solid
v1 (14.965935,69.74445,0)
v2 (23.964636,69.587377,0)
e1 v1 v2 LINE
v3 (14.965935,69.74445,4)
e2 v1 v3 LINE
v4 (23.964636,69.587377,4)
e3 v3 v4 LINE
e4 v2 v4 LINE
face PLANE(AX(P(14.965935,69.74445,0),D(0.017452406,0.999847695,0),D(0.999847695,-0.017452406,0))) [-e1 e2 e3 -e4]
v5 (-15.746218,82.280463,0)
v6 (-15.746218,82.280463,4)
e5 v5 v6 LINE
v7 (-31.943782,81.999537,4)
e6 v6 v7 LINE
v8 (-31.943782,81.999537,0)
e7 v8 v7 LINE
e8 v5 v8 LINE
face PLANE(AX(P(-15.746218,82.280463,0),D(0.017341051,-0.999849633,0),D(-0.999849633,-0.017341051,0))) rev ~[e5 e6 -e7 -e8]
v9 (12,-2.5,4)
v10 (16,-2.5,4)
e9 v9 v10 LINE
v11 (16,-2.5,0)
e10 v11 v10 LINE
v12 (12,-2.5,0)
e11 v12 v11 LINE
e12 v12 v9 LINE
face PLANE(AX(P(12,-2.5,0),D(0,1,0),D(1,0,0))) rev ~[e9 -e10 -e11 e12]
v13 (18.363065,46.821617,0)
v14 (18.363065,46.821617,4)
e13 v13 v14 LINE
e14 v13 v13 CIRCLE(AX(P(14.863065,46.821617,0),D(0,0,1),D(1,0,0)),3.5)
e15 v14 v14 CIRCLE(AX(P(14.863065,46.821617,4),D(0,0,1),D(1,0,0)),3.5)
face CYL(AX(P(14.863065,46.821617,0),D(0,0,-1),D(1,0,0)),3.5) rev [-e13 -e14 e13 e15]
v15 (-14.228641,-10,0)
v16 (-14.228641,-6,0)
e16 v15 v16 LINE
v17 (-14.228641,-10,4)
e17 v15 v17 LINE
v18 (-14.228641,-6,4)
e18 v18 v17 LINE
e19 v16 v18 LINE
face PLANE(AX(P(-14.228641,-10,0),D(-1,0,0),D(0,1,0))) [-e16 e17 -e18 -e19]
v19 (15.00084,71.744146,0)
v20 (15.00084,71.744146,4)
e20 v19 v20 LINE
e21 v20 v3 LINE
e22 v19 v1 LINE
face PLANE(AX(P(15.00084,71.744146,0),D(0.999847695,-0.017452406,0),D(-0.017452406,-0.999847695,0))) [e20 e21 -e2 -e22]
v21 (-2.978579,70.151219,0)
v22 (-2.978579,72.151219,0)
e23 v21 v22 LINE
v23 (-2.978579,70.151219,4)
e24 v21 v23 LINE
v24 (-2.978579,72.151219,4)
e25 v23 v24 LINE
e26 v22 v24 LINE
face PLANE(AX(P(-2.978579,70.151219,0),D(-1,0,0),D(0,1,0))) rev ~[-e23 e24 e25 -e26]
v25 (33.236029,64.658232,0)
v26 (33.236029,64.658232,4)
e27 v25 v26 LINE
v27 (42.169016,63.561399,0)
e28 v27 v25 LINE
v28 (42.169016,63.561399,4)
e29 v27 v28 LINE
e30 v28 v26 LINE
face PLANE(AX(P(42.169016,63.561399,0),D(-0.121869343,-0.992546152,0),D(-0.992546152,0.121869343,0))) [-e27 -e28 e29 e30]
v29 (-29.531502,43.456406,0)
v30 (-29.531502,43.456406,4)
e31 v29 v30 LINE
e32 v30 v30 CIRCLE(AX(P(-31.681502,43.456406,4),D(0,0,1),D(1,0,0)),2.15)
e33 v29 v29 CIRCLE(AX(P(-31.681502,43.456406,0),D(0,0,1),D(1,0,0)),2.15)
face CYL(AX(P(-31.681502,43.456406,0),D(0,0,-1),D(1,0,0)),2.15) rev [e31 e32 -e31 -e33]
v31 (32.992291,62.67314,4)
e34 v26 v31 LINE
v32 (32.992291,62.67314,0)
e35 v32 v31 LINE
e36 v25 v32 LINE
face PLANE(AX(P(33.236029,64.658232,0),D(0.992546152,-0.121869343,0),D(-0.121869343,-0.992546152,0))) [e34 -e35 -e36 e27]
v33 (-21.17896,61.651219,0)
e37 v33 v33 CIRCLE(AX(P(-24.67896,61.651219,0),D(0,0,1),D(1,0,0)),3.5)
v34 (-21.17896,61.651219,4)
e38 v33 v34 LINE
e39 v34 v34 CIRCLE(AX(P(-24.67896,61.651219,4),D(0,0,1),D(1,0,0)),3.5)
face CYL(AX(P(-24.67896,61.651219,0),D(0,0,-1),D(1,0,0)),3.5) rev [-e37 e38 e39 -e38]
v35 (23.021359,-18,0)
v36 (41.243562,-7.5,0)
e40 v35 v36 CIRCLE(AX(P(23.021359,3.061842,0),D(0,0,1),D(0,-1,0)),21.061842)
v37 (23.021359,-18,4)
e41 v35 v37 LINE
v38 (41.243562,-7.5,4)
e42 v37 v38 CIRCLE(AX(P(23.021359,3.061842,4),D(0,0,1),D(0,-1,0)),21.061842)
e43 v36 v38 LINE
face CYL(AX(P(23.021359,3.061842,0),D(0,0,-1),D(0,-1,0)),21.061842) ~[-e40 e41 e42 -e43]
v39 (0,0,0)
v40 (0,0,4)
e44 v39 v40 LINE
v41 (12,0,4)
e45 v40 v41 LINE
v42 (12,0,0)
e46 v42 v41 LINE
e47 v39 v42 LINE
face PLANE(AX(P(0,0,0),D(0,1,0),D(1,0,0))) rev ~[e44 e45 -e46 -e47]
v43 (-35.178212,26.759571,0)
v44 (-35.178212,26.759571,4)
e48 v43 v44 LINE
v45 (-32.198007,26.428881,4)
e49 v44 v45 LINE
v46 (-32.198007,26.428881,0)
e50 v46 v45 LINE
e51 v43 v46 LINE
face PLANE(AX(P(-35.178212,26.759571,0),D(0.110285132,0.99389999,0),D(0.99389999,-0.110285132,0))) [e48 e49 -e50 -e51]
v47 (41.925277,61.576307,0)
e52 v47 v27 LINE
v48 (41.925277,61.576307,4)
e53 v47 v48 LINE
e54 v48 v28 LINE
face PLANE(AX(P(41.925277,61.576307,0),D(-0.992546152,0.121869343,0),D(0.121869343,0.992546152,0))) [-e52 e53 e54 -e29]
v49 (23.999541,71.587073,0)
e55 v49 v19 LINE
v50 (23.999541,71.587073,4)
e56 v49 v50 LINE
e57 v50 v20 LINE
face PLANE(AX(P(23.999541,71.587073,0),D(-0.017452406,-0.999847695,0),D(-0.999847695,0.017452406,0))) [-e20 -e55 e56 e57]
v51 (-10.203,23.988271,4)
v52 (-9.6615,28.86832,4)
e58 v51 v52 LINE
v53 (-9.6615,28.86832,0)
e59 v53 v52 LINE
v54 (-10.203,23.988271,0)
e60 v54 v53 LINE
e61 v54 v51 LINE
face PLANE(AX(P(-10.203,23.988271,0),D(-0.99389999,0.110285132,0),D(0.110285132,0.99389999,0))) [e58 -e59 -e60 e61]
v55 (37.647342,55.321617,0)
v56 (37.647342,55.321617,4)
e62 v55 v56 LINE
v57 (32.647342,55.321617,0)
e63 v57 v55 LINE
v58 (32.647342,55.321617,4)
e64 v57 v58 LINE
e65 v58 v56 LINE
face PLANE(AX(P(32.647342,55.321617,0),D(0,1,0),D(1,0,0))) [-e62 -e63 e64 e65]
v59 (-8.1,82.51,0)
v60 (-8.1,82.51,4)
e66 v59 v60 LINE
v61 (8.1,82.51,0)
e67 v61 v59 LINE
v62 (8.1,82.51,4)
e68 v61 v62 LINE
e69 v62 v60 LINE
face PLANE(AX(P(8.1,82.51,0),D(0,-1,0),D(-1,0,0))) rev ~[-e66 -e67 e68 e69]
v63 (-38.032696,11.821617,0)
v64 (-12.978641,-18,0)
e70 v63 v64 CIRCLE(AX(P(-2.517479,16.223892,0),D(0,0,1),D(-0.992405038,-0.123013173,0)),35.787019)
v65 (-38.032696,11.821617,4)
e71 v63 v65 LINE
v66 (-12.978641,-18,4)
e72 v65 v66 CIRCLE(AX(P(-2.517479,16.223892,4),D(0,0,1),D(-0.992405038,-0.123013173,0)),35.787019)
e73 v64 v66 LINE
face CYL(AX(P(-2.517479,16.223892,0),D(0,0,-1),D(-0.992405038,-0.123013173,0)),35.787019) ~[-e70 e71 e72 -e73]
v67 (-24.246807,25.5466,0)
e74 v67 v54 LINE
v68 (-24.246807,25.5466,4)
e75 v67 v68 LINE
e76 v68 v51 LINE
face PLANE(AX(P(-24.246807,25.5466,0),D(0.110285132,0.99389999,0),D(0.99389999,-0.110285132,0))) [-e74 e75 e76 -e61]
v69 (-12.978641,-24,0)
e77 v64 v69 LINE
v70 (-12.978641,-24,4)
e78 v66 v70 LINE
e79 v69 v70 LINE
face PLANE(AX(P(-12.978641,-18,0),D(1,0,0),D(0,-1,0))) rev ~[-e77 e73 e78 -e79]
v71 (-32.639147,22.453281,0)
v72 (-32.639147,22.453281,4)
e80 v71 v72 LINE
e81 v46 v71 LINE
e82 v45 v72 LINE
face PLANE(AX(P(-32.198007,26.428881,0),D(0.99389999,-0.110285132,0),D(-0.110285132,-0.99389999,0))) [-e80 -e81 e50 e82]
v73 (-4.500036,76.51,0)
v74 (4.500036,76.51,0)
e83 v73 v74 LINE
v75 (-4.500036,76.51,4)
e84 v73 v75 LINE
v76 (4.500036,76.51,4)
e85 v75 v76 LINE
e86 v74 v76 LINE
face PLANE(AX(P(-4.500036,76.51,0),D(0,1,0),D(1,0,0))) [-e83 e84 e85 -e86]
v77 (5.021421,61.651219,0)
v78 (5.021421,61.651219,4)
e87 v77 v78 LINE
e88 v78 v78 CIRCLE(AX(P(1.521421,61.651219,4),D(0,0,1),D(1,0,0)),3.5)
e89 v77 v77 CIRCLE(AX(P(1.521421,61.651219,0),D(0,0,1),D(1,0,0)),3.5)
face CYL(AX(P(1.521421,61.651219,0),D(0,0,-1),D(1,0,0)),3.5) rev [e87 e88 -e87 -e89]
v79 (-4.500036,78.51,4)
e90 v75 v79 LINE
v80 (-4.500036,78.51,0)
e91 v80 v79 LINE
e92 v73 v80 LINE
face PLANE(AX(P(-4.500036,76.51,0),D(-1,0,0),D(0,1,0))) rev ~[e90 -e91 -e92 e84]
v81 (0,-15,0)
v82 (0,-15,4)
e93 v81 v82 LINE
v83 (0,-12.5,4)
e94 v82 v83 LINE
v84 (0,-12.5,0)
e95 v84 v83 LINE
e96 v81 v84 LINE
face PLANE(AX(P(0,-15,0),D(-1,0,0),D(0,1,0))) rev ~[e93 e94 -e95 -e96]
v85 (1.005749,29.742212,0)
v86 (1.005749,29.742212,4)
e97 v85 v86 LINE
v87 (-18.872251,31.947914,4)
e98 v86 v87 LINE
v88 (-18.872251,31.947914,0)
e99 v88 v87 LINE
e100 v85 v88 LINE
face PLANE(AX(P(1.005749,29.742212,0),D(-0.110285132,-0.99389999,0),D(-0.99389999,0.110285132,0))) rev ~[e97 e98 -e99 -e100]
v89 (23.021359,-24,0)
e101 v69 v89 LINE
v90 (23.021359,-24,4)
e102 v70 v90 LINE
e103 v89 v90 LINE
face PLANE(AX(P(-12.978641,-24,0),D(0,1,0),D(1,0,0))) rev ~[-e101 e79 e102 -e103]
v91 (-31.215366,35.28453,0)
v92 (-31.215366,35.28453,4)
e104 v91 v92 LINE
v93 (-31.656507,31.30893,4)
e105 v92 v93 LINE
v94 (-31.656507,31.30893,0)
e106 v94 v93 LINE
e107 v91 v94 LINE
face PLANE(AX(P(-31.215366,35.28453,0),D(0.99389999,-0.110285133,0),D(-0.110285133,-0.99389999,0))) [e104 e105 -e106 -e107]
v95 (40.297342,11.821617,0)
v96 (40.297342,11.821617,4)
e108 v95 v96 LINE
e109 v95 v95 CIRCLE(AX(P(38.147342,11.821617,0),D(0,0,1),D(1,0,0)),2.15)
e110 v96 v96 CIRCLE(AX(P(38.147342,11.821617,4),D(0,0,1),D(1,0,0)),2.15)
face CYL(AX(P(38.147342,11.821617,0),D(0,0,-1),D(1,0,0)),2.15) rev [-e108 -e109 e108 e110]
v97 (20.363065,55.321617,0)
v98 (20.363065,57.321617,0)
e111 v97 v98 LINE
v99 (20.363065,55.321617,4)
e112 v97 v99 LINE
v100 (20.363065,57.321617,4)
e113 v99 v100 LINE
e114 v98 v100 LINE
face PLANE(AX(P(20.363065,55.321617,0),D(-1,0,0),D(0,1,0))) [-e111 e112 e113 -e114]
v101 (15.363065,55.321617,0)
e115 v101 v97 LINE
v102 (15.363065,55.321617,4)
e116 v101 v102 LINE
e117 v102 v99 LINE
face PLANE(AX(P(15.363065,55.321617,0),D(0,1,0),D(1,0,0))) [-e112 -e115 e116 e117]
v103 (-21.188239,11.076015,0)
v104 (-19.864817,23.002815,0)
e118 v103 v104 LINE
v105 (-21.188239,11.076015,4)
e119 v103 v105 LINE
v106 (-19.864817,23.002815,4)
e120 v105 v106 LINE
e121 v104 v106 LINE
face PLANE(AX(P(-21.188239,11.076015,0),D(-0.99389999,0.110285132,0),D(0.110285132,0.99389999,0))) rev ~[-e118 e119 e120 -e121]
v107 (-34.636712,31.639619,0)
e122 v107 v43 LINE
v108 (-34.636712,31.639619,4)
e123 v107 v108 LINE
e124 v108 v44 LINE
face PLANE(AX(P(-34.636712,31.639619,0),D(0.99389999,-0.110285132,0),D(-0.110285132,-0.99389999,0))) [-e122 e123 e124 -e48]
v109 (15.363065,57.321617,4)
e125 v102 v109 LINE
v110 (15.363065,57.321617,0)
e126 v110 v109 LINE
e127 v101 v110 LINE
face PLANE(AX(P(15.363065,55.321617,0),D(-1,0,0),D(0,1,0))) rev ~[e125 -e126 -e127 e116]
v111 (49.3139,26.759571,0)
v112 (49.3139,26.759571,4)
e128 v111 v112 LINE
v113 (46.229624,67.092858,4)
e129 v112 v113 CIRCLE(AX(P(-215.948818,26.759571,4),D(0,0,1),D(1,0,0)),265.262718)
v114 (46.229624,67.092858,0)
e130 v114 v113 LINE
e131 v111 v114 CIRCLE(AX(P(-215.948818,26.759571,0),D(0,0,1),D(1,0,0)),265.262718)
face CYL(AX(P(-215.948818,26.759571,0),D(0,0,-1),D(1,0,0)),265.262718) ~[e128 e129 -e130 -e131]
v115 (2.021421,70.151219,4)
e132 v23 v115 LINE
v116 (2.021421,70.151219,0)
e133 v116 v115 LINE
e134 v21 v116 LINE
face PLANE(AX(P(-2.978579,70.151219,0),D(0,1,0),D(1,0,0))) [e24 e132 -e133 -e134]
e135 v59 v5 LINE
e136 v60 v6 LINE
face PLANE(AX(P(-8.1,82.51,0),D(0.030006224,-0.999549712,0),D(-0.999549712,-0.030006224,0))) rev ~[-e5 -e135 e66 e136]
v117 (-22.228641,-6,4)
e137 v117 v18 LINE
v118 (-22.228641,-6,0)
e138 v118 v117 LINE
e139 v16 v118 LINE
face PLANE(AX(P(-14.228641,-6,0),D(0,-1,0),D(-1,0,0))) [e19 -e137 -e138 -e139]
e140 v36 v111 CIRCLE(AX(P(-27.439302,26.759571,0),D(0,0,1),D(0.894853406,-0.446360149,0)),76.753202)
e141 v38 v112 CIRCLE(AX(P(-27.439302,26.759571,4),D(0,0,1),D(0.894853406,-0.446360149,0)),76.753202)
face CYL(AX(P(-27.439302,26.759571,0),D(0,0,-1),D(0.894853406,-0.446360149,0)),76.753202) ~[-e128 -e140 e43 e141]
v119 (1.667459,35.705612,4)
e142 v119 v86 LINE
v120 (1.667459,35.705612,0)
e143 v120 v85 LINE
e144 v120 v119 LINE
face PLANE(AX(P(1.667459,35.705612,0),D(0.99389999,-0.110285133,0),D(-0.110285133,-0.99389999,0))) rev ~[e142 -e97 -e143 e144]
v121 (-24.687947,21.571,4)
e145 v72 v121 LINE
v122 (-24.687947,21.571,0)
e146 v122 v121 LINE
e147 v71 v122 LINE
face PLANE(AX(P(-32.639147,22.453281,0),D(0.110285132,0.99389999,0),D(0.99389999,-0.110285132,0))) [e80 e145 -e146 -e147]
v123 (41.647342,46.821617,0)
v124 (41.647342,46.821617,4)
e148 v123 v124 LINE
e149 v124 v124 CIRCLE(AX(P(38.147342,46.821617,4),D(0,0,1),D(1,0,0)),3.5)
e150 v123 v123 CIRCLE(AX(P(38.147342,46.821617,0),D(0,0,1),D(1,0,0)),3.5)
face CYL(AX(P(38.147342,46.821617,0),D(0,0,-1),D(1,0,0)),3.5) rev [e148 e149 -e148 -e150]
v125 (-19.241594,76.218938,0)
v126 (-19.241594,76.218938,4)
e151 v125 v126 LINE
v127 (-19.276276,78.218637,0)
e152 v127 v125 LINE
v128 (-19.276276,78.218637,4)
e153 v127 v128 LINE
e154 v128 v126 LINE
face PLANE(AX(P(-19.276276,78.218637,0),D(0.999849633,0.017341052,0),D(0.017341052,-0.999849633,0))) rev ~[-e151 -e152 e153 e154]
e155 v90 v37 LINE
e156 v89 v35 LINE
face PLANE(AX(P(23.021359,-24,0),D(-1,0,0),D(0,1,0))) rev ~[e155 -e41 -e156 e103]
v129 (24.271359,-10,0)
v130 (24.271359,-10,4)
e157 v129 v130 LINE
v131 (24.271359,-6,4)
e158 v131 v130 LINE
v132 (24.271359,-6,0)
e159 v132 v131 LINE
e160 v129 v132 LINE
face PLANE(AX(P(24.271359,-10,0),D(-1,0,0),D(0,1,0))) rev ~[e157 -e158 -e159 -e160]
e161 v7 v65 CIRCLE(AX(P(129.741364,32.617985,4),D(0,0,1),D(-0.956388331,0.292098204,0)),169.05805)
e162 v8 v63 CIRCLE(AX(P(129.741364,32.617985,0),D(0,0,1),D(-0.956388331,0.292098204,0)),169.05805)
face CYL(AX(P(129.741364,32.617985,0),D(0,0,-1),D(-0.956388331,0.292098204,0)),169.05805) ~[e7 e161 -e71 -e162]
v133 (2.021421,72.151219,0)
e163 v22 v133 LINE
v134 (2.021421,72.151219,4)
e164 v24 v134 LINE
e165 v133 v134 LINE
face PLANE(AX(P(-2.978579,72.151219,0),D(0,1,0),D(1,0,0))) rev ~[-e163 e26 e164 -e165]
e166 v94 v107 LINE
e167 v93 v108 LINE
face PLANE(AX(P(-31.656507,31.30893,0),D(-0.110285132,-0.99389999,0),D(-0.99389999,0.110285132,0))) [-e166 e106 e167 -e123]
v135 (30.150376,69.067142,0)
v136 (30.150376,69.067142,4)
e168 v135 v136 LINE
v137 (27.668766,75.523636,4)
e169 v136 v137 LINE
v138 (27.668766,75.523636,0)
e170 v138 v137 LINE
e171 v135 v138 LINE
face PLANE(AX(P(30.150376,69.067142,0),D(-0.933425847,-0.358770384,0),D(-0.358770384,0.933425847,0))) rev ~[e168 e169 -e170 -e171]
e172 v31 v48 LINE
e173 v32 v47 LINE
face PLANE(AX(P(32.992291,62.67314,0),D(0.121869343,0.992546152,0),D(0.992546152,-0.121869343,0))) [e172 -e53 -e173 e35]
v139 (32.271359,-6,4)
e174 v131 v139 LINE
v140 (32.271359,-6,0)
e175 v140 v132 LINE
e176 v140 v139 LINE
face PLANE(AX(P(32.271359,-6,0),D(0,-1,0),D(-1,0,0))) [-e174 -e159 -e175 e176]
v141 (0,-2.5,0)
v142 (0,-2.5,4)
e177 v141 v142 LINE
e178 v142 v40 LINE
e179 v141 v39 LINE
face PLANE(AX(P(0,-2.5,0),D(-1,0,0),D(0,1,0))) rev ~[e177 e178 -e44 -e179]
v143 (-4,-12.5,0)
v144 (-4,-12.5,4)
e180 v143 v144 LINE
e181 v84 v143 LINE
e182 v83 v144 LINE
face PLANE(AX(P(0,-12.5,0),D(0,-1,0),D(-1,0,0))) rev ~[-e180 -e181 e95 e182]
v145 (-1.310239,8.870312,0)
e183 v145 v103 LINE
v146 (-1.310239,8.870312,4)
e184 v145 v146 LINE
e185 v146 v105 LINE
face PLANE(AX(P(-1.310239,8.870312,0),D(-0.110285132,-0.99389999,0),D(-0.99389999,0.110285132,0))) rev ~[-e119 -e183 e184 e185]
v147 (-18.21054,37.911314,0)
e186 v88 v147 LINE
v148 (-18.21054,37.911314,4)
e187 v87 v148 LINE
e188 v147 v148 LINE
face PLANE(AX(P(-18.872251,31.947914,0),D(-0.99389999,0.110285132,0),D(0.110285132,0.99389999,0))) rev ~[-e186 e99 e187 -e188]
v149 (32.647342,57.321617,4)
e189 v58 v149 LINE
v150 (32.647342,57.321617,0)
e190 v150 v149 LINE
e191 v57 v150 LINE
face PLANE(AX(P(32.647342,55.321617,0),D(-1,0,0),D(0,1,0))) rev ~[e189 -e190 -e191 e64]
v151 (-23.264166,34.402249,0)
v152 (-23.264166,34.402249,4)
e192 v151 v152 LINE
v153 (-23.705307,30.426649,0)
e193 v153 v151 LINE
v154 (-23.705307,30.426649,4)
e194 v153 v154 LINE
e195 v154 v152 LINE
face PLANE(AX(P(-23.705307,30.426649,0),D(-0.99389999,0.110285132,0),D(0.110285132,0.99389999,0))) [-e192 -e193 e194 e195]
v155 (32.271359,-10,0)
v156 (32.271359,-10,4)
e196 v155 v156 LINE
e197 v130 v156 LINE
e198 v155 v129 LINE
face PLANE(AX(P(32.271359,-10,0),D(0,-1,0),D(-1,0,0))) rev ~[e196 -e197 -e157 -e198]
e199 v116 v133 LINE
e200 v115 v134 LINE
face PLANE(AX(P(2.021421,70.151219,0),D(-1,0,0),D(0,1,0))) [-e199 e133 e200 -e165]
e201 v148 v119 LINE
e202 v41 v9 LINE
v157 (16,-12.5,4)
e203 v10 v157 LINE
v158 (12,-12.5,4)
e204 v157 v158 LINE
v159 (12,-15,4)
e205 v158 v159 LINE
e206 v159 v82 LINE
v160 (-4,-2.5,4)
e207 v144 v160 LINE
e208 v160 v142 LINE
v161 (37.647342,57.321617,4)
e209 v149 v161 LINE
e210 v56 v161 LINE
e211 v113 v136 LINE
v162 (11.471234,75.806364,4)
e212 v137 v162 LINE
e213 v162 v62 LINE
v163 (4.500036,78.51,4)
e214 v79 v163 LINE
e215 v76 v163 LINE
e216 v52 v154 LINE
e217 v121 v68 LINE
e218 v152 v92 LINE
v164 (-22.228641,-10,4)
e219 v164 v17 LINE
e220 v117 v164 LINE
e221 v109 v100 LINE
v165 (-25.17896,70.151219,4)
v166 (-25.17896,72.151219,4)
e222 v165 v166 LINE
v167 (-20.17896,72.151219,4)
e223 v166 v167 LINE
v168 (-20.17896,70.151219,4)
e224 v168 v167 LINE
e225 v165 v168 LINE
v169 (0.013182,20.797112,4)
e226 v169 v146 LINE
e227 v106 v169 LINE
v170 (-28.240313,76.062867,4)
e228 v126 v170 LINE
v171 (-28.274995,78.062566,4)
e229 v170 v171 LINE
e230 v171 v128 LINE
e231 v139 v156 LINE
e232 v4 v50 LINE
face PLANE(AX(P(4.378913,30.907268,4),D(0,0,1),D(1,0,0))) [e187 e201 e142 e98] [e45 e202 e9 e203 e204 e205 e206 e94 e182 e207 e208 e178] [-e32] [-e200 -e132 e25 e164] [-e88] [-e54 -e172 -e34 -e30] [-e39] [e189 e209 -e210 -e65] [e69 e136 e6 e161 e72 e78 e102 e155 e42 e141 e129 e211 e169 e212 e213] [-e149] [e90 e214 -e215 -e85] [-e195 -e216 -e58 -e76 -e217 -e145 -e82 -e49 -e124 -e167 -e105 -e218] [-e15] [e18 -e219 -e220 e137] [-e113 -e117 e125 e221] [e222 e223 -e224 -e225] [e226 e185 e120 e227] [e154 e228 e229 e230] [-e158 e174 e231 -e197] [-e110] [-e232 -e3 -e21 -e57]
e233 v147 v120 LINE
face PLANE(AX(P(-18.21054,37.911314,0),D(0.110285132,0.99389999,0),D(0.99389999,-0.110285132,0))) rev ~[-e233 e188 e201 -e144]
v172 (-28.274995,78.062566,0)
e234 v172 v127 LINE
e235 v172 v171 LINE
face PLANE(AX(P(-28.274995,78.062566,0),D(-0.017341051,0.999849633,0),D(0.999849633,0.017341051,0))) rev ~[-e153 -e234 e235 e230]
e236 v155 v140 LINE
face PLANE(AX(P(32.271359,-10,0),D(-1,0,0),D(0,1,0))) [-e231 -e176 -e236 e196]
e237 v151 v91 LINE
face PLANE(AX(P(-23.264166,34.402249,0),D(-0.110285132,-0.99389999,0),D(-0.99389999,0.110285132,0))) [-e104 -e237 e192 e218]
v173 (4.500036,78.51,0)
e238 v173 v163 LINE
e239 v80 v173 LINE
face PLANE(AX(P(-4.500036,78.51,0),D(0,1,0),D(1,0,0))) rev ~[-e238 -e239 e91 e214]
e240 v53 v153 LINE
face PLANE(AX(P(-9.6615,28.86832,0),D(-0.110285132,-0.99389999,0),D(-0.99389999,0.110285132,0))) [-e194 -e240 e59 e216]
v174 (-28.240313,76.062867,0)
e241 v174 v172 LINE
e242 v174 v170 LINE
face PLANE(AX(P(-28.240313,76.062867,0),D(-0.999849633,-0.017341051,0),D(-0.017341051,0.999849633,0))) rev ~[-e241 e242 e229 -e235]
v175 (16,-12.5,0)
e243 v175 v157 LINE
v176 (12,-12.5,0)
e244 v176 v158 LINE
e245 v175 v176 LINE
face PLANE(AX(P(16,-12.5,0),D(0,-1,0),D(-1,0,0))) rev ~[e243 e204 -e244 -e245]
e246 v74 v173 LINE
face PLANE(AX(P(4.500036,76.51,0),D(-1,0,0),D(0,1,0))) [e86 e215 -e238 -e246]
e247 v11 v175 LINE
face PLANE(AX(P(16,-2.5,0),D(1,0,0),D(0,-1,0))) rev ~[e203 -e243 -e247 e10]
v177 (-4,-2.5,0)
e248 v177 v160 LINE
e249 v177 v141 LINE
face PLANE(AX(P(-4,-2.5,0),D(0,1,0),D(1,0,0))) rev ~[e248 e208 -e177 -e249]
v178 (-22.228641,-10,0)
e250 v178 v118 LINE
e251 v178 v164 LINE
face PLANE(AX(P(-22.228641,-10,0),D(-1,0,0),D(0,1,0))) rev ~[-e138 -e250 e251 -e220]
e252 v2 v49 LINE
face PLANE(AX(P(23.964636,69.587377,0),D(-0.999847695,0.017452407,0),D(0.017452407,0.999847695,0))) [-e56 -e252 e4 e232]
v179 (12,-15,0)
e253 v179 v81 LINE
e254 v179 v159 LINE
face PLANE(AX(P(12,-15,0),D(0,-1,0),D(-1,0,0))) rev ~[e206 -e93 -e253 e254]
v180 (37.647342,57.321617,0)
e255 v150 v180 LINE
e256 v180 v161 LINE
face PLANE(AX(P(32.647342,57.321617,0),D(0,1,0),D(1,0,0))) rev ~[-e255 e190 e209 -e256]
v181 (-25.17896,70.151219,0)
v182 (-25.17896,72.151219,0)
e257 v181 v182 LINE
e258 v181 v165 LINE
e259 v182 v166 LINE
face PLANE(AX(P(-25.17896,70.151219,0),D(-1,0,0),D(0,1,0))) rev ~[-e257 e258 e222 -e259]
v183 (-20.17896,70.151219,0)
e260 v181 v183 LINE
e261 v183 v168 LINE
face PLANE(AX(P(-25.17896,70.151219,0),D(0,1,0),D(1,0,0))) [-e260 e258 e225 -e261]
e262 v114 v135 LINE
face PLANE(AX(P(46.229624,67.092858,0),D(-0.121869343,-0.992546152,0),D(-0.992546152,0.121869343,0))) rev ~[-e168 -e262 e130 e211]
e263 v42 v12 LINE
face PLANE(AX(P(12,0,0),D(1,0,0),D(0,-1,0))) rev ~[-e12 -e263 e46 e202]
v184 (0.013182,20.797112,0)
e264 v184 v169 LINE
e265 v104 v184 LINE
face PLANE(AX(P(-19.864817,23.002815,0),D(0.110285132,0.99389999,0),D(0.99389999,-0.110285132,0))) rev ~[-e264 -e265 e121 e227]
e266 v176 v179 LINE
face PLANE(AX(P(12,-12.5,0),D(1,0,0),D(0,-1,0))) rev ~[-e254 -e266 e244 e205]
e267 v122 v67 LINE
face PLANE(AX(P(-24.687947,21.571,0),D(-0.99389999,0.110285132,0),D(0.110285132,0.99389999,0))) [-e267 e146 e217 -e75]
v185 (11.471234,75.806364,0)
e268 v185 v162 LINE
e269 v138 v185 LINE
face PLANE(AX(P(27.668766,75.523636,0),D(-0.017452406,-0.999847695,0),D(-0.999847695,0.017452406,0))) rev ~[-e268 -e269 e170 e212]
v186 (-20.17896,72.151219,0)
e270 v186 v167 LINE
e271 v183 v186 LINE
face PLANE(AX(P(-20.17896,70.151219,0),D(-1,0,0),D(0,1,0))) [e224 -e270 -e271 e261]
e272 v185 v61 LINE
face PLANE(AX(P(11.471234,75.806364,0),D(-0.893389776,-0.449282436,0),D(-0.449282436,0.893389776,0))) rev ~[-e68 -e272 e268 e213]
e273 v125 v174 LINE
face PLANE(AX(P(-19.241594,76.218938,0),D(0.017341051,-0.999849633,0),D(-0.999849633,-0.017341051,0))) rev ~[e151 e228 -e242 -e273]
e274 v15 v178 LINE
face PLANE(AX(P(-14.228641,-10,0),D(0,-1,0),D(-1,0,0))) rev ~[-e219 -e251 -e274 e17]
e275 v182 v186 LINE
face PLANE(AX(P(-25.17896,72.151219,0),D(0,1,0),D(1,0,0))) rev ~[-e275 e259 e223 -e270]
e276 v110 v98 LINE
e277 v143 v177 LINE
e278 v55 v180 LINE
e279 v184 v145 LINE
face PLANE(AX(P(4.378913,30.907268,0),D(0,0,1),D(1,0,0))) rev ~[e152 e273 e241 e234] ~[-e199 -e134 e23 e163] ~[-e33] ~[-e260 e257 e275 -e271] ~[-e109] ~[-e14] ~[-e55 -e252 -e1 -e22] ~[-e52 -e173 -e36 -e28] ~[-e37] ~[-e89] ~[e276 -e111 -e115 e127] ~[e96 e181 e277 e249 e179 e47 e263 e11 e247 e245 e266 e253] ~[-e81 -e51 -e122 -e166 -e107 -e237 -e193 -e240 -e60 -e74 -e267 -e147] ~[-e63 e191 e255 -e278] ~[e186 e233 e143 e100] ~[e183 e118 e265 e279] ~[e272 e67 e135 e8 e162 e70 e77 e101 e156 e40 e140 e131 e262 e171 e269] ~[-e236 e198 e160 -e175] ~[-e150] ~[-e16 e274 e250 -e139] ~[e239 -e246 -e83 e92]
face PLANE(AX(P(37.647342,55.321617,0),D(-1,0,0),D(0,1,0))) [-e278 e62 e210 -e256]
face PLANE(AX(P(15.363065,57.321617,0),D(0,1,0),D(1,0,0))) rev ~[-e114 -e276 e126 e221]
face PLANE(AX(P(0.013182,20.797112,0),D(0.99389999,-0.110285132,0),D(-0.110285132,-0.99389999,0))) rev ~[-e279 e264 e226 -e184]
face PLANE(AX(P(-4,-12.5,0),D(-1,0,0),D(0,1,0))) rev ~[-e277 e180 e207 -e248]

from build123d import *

# Parameters (mm, degrees)
SKETCH1_R           = 2.15
SKETCH1_R_2         = 3.5
SKETCH1_W           = 9.000072
SKETCH1_H           = 2
SKETCH1_W_2         = 5
BOSS_EXTRUDE1_DEPTH = 4
SKETCH2_W           = 8
SKETCH2_H           = 4
CUT_EXTRUDE1_DEPTH  = 5


with BuildPart() as part:
    # Sketch1 → Boss-Extrude1 (new body)
    with BuildSketch(Plane.XY):
        with BuildLine():
            Line((-12.978640908, -18), (-12.978640908, -24))
            Line((-12.978640908, -24), (23.021359092, -24))
            Line((23.021359092, -24), (23.021359092, -18))
            ThreePointArc((23.021359092, -18), (33.536808213, -15.187172163), (41.243562055, -7.5))
            ThreePointArc((41.243562055, -7.5), (47.269076761, 9.160930487), (49.313899811, 26.759570515))
            ThreePointArc((49.313899811, 26.759570515), (48.54170687, 46.985091914), (46.229623828, 67.092858318))
            Line((46.229623828, 67.092858318), (30.150376172, 69.067141682))
            Line((30.150376172, 69.067141682), (27.668766331, 75.523635508))
            Line((27.668766331, 75.523635508), (11.471233669, 75.806364492))
            Line((11.471233669, 75.806364492), (8.1, 82.51))
            Line((8.1, 82.51), (-8.1, 82.51))
            Line((-8.1, 82.51), (-15.746217975, 82.280462515))
            Line((-15.746217975, 82.280462515), (-31.943782025, 81.999537485))
            ThreePointArc((-31.943782025, 81.999537485), (-38.683922922, 47.231229605), (-38.032696315, 11.821617405))
            ThreePointArc((-38.032696315, 11.821617405), (-29.918009554, -6.796134249), (-12.978640908, -18))
        make_face()
        with Locations((38.147341743, 11.821617405)):
            Circle(SKETCH1_R, mode=Mode.SUBTRACT)
        with Locations((-24.678960076, 61.651218734)):
            Circle(SKETCH1_R_2, mode=Mode.SUBTRACT)
        with Locations((1.521420673, 61.651218734)):
            Circle(SKETCH1_R_2, mode=Mode.SUBTRACT)
        with Locations((14.86306514, 46.821617405)):
            Circle(SKETCH1_R_2, mode=Mode.SUBTRACT)
        with Locations((38.147341743, 46.821617405)):
            Circle(SKETCH1_R_2, mode=Mode.SUBTRACT)
        with Locations((-31.681501662, 43.456405989)):
            Circle(SKETCH1_R, mode=Mode.SUBTRACT)
        with Locations((0, 77.51)):
            Rectangle(SKETCH1_W, SKETCH1_H, mode=Mode.SUBTRACT)
        Polygon((-4, -2.5), (0, -2.5), (0, 0), (12, 0), (12, -2.5), (16, -2.5), (16, -12.5), (12, -12.5), (12, -15), (0, -15), (0, -12.5), (-4, -12.5), align=None, mode=Mode.SUBTRACT)
        with Locations((35.147341743, 56.321617405)):
            Rectangle(SKETCH1_W_2, SKETCH1_H, mode=Mode.SUBTRACT)
        Polygon((-28.274995137, 78.062566115), (-19.276276454, 78.218636824), (-19.241594351, 76.218937559), (-28.240313034, 76.062866849), align=None, mode=Mode.SUBTRACT)
        with Locations((17.86306514, 56.321617405)):
            Rectangle(SKETCH1_W_2, SKETCH1_H, mode=Mode.SUBTRACT)
        with Locations((-0.478579327, 71.151218734)):
            Rectangle(SKETCH1_W_2, SKETCH1_H, mode=Mode.SUBTRACT)
        Polygon((15.000839752, 71.744145677), (14.965934939, 69.744450286), (23.964636184, 69.587377372), (23.999540997, 71.587072762), align=None, mode=Mode.SUBTRACT)
        Polygon((42.16901604, 63.561398961), (33.236029212, 64.658231826), (32.992290526, 62.673139523), (41.925277354, 61.576306658), align=None, mode=Mode.SUBTRACT)
        Polygon((1.667459367, 35.705611754), (1.005748572, 29.742211816), (-18.872251222, 31.947914464), (-18.210540428, 37.911314402), align=None, mode=Mode.SUBTRACT)
        with Locations((-22.678960076, 71.151218734)):
            Rectangle(SKETCH1_W_2, SKETCH1_H, mode=Mode.SUBTRACT)
        Polygon((0.013182381, 20.797111909), (-1.310239208, 8.870312032), (-21.188239002, 11.076014679), (-19.864817414, 23.002814556), align=None, mode=Mode.SUBTRACT)
        Polygon((-10.203, 23.988271038), (-9.6615, 28.868319988), (-23.705306855, 30.426648908), (-23.264166325, 34.402248867), (-31.215366243, 35.284529926), (-31.656506773, 31.308929968), (-34.636711633, 31.639619464), (-35.178211633, 26.759570515), (-32.198006773, 26.428881018), (-32.639147302, 22.453281059), (-24.687947384, 21.571), (-24.246806855, 25.546599959), align=None, mode=Mode.SUBTRACT)
    extrude(amount=BOSS_EXTRUDE1_DEPTH)

    # Sketch2 → Cut-Extrude1 (cut, through all)
    with BuildSketch(Plane(origin=(0, 0, 0), x_dir=(-1, 0, 0), z_dir=(0, 0, -1))):
        with Locations((-28.271359092, -8)):
            Rectangle(SKETCH2_W, SKETCH2_H)
        with Locations((18.228640908, -8)):
            Rectangle(SKETCH2_W, SKETCH2_H)
    extrude(amount=-CUT_EXTRUDE1_DEPTH, mode=Mode.SUBTRACT)


solid = part.part
